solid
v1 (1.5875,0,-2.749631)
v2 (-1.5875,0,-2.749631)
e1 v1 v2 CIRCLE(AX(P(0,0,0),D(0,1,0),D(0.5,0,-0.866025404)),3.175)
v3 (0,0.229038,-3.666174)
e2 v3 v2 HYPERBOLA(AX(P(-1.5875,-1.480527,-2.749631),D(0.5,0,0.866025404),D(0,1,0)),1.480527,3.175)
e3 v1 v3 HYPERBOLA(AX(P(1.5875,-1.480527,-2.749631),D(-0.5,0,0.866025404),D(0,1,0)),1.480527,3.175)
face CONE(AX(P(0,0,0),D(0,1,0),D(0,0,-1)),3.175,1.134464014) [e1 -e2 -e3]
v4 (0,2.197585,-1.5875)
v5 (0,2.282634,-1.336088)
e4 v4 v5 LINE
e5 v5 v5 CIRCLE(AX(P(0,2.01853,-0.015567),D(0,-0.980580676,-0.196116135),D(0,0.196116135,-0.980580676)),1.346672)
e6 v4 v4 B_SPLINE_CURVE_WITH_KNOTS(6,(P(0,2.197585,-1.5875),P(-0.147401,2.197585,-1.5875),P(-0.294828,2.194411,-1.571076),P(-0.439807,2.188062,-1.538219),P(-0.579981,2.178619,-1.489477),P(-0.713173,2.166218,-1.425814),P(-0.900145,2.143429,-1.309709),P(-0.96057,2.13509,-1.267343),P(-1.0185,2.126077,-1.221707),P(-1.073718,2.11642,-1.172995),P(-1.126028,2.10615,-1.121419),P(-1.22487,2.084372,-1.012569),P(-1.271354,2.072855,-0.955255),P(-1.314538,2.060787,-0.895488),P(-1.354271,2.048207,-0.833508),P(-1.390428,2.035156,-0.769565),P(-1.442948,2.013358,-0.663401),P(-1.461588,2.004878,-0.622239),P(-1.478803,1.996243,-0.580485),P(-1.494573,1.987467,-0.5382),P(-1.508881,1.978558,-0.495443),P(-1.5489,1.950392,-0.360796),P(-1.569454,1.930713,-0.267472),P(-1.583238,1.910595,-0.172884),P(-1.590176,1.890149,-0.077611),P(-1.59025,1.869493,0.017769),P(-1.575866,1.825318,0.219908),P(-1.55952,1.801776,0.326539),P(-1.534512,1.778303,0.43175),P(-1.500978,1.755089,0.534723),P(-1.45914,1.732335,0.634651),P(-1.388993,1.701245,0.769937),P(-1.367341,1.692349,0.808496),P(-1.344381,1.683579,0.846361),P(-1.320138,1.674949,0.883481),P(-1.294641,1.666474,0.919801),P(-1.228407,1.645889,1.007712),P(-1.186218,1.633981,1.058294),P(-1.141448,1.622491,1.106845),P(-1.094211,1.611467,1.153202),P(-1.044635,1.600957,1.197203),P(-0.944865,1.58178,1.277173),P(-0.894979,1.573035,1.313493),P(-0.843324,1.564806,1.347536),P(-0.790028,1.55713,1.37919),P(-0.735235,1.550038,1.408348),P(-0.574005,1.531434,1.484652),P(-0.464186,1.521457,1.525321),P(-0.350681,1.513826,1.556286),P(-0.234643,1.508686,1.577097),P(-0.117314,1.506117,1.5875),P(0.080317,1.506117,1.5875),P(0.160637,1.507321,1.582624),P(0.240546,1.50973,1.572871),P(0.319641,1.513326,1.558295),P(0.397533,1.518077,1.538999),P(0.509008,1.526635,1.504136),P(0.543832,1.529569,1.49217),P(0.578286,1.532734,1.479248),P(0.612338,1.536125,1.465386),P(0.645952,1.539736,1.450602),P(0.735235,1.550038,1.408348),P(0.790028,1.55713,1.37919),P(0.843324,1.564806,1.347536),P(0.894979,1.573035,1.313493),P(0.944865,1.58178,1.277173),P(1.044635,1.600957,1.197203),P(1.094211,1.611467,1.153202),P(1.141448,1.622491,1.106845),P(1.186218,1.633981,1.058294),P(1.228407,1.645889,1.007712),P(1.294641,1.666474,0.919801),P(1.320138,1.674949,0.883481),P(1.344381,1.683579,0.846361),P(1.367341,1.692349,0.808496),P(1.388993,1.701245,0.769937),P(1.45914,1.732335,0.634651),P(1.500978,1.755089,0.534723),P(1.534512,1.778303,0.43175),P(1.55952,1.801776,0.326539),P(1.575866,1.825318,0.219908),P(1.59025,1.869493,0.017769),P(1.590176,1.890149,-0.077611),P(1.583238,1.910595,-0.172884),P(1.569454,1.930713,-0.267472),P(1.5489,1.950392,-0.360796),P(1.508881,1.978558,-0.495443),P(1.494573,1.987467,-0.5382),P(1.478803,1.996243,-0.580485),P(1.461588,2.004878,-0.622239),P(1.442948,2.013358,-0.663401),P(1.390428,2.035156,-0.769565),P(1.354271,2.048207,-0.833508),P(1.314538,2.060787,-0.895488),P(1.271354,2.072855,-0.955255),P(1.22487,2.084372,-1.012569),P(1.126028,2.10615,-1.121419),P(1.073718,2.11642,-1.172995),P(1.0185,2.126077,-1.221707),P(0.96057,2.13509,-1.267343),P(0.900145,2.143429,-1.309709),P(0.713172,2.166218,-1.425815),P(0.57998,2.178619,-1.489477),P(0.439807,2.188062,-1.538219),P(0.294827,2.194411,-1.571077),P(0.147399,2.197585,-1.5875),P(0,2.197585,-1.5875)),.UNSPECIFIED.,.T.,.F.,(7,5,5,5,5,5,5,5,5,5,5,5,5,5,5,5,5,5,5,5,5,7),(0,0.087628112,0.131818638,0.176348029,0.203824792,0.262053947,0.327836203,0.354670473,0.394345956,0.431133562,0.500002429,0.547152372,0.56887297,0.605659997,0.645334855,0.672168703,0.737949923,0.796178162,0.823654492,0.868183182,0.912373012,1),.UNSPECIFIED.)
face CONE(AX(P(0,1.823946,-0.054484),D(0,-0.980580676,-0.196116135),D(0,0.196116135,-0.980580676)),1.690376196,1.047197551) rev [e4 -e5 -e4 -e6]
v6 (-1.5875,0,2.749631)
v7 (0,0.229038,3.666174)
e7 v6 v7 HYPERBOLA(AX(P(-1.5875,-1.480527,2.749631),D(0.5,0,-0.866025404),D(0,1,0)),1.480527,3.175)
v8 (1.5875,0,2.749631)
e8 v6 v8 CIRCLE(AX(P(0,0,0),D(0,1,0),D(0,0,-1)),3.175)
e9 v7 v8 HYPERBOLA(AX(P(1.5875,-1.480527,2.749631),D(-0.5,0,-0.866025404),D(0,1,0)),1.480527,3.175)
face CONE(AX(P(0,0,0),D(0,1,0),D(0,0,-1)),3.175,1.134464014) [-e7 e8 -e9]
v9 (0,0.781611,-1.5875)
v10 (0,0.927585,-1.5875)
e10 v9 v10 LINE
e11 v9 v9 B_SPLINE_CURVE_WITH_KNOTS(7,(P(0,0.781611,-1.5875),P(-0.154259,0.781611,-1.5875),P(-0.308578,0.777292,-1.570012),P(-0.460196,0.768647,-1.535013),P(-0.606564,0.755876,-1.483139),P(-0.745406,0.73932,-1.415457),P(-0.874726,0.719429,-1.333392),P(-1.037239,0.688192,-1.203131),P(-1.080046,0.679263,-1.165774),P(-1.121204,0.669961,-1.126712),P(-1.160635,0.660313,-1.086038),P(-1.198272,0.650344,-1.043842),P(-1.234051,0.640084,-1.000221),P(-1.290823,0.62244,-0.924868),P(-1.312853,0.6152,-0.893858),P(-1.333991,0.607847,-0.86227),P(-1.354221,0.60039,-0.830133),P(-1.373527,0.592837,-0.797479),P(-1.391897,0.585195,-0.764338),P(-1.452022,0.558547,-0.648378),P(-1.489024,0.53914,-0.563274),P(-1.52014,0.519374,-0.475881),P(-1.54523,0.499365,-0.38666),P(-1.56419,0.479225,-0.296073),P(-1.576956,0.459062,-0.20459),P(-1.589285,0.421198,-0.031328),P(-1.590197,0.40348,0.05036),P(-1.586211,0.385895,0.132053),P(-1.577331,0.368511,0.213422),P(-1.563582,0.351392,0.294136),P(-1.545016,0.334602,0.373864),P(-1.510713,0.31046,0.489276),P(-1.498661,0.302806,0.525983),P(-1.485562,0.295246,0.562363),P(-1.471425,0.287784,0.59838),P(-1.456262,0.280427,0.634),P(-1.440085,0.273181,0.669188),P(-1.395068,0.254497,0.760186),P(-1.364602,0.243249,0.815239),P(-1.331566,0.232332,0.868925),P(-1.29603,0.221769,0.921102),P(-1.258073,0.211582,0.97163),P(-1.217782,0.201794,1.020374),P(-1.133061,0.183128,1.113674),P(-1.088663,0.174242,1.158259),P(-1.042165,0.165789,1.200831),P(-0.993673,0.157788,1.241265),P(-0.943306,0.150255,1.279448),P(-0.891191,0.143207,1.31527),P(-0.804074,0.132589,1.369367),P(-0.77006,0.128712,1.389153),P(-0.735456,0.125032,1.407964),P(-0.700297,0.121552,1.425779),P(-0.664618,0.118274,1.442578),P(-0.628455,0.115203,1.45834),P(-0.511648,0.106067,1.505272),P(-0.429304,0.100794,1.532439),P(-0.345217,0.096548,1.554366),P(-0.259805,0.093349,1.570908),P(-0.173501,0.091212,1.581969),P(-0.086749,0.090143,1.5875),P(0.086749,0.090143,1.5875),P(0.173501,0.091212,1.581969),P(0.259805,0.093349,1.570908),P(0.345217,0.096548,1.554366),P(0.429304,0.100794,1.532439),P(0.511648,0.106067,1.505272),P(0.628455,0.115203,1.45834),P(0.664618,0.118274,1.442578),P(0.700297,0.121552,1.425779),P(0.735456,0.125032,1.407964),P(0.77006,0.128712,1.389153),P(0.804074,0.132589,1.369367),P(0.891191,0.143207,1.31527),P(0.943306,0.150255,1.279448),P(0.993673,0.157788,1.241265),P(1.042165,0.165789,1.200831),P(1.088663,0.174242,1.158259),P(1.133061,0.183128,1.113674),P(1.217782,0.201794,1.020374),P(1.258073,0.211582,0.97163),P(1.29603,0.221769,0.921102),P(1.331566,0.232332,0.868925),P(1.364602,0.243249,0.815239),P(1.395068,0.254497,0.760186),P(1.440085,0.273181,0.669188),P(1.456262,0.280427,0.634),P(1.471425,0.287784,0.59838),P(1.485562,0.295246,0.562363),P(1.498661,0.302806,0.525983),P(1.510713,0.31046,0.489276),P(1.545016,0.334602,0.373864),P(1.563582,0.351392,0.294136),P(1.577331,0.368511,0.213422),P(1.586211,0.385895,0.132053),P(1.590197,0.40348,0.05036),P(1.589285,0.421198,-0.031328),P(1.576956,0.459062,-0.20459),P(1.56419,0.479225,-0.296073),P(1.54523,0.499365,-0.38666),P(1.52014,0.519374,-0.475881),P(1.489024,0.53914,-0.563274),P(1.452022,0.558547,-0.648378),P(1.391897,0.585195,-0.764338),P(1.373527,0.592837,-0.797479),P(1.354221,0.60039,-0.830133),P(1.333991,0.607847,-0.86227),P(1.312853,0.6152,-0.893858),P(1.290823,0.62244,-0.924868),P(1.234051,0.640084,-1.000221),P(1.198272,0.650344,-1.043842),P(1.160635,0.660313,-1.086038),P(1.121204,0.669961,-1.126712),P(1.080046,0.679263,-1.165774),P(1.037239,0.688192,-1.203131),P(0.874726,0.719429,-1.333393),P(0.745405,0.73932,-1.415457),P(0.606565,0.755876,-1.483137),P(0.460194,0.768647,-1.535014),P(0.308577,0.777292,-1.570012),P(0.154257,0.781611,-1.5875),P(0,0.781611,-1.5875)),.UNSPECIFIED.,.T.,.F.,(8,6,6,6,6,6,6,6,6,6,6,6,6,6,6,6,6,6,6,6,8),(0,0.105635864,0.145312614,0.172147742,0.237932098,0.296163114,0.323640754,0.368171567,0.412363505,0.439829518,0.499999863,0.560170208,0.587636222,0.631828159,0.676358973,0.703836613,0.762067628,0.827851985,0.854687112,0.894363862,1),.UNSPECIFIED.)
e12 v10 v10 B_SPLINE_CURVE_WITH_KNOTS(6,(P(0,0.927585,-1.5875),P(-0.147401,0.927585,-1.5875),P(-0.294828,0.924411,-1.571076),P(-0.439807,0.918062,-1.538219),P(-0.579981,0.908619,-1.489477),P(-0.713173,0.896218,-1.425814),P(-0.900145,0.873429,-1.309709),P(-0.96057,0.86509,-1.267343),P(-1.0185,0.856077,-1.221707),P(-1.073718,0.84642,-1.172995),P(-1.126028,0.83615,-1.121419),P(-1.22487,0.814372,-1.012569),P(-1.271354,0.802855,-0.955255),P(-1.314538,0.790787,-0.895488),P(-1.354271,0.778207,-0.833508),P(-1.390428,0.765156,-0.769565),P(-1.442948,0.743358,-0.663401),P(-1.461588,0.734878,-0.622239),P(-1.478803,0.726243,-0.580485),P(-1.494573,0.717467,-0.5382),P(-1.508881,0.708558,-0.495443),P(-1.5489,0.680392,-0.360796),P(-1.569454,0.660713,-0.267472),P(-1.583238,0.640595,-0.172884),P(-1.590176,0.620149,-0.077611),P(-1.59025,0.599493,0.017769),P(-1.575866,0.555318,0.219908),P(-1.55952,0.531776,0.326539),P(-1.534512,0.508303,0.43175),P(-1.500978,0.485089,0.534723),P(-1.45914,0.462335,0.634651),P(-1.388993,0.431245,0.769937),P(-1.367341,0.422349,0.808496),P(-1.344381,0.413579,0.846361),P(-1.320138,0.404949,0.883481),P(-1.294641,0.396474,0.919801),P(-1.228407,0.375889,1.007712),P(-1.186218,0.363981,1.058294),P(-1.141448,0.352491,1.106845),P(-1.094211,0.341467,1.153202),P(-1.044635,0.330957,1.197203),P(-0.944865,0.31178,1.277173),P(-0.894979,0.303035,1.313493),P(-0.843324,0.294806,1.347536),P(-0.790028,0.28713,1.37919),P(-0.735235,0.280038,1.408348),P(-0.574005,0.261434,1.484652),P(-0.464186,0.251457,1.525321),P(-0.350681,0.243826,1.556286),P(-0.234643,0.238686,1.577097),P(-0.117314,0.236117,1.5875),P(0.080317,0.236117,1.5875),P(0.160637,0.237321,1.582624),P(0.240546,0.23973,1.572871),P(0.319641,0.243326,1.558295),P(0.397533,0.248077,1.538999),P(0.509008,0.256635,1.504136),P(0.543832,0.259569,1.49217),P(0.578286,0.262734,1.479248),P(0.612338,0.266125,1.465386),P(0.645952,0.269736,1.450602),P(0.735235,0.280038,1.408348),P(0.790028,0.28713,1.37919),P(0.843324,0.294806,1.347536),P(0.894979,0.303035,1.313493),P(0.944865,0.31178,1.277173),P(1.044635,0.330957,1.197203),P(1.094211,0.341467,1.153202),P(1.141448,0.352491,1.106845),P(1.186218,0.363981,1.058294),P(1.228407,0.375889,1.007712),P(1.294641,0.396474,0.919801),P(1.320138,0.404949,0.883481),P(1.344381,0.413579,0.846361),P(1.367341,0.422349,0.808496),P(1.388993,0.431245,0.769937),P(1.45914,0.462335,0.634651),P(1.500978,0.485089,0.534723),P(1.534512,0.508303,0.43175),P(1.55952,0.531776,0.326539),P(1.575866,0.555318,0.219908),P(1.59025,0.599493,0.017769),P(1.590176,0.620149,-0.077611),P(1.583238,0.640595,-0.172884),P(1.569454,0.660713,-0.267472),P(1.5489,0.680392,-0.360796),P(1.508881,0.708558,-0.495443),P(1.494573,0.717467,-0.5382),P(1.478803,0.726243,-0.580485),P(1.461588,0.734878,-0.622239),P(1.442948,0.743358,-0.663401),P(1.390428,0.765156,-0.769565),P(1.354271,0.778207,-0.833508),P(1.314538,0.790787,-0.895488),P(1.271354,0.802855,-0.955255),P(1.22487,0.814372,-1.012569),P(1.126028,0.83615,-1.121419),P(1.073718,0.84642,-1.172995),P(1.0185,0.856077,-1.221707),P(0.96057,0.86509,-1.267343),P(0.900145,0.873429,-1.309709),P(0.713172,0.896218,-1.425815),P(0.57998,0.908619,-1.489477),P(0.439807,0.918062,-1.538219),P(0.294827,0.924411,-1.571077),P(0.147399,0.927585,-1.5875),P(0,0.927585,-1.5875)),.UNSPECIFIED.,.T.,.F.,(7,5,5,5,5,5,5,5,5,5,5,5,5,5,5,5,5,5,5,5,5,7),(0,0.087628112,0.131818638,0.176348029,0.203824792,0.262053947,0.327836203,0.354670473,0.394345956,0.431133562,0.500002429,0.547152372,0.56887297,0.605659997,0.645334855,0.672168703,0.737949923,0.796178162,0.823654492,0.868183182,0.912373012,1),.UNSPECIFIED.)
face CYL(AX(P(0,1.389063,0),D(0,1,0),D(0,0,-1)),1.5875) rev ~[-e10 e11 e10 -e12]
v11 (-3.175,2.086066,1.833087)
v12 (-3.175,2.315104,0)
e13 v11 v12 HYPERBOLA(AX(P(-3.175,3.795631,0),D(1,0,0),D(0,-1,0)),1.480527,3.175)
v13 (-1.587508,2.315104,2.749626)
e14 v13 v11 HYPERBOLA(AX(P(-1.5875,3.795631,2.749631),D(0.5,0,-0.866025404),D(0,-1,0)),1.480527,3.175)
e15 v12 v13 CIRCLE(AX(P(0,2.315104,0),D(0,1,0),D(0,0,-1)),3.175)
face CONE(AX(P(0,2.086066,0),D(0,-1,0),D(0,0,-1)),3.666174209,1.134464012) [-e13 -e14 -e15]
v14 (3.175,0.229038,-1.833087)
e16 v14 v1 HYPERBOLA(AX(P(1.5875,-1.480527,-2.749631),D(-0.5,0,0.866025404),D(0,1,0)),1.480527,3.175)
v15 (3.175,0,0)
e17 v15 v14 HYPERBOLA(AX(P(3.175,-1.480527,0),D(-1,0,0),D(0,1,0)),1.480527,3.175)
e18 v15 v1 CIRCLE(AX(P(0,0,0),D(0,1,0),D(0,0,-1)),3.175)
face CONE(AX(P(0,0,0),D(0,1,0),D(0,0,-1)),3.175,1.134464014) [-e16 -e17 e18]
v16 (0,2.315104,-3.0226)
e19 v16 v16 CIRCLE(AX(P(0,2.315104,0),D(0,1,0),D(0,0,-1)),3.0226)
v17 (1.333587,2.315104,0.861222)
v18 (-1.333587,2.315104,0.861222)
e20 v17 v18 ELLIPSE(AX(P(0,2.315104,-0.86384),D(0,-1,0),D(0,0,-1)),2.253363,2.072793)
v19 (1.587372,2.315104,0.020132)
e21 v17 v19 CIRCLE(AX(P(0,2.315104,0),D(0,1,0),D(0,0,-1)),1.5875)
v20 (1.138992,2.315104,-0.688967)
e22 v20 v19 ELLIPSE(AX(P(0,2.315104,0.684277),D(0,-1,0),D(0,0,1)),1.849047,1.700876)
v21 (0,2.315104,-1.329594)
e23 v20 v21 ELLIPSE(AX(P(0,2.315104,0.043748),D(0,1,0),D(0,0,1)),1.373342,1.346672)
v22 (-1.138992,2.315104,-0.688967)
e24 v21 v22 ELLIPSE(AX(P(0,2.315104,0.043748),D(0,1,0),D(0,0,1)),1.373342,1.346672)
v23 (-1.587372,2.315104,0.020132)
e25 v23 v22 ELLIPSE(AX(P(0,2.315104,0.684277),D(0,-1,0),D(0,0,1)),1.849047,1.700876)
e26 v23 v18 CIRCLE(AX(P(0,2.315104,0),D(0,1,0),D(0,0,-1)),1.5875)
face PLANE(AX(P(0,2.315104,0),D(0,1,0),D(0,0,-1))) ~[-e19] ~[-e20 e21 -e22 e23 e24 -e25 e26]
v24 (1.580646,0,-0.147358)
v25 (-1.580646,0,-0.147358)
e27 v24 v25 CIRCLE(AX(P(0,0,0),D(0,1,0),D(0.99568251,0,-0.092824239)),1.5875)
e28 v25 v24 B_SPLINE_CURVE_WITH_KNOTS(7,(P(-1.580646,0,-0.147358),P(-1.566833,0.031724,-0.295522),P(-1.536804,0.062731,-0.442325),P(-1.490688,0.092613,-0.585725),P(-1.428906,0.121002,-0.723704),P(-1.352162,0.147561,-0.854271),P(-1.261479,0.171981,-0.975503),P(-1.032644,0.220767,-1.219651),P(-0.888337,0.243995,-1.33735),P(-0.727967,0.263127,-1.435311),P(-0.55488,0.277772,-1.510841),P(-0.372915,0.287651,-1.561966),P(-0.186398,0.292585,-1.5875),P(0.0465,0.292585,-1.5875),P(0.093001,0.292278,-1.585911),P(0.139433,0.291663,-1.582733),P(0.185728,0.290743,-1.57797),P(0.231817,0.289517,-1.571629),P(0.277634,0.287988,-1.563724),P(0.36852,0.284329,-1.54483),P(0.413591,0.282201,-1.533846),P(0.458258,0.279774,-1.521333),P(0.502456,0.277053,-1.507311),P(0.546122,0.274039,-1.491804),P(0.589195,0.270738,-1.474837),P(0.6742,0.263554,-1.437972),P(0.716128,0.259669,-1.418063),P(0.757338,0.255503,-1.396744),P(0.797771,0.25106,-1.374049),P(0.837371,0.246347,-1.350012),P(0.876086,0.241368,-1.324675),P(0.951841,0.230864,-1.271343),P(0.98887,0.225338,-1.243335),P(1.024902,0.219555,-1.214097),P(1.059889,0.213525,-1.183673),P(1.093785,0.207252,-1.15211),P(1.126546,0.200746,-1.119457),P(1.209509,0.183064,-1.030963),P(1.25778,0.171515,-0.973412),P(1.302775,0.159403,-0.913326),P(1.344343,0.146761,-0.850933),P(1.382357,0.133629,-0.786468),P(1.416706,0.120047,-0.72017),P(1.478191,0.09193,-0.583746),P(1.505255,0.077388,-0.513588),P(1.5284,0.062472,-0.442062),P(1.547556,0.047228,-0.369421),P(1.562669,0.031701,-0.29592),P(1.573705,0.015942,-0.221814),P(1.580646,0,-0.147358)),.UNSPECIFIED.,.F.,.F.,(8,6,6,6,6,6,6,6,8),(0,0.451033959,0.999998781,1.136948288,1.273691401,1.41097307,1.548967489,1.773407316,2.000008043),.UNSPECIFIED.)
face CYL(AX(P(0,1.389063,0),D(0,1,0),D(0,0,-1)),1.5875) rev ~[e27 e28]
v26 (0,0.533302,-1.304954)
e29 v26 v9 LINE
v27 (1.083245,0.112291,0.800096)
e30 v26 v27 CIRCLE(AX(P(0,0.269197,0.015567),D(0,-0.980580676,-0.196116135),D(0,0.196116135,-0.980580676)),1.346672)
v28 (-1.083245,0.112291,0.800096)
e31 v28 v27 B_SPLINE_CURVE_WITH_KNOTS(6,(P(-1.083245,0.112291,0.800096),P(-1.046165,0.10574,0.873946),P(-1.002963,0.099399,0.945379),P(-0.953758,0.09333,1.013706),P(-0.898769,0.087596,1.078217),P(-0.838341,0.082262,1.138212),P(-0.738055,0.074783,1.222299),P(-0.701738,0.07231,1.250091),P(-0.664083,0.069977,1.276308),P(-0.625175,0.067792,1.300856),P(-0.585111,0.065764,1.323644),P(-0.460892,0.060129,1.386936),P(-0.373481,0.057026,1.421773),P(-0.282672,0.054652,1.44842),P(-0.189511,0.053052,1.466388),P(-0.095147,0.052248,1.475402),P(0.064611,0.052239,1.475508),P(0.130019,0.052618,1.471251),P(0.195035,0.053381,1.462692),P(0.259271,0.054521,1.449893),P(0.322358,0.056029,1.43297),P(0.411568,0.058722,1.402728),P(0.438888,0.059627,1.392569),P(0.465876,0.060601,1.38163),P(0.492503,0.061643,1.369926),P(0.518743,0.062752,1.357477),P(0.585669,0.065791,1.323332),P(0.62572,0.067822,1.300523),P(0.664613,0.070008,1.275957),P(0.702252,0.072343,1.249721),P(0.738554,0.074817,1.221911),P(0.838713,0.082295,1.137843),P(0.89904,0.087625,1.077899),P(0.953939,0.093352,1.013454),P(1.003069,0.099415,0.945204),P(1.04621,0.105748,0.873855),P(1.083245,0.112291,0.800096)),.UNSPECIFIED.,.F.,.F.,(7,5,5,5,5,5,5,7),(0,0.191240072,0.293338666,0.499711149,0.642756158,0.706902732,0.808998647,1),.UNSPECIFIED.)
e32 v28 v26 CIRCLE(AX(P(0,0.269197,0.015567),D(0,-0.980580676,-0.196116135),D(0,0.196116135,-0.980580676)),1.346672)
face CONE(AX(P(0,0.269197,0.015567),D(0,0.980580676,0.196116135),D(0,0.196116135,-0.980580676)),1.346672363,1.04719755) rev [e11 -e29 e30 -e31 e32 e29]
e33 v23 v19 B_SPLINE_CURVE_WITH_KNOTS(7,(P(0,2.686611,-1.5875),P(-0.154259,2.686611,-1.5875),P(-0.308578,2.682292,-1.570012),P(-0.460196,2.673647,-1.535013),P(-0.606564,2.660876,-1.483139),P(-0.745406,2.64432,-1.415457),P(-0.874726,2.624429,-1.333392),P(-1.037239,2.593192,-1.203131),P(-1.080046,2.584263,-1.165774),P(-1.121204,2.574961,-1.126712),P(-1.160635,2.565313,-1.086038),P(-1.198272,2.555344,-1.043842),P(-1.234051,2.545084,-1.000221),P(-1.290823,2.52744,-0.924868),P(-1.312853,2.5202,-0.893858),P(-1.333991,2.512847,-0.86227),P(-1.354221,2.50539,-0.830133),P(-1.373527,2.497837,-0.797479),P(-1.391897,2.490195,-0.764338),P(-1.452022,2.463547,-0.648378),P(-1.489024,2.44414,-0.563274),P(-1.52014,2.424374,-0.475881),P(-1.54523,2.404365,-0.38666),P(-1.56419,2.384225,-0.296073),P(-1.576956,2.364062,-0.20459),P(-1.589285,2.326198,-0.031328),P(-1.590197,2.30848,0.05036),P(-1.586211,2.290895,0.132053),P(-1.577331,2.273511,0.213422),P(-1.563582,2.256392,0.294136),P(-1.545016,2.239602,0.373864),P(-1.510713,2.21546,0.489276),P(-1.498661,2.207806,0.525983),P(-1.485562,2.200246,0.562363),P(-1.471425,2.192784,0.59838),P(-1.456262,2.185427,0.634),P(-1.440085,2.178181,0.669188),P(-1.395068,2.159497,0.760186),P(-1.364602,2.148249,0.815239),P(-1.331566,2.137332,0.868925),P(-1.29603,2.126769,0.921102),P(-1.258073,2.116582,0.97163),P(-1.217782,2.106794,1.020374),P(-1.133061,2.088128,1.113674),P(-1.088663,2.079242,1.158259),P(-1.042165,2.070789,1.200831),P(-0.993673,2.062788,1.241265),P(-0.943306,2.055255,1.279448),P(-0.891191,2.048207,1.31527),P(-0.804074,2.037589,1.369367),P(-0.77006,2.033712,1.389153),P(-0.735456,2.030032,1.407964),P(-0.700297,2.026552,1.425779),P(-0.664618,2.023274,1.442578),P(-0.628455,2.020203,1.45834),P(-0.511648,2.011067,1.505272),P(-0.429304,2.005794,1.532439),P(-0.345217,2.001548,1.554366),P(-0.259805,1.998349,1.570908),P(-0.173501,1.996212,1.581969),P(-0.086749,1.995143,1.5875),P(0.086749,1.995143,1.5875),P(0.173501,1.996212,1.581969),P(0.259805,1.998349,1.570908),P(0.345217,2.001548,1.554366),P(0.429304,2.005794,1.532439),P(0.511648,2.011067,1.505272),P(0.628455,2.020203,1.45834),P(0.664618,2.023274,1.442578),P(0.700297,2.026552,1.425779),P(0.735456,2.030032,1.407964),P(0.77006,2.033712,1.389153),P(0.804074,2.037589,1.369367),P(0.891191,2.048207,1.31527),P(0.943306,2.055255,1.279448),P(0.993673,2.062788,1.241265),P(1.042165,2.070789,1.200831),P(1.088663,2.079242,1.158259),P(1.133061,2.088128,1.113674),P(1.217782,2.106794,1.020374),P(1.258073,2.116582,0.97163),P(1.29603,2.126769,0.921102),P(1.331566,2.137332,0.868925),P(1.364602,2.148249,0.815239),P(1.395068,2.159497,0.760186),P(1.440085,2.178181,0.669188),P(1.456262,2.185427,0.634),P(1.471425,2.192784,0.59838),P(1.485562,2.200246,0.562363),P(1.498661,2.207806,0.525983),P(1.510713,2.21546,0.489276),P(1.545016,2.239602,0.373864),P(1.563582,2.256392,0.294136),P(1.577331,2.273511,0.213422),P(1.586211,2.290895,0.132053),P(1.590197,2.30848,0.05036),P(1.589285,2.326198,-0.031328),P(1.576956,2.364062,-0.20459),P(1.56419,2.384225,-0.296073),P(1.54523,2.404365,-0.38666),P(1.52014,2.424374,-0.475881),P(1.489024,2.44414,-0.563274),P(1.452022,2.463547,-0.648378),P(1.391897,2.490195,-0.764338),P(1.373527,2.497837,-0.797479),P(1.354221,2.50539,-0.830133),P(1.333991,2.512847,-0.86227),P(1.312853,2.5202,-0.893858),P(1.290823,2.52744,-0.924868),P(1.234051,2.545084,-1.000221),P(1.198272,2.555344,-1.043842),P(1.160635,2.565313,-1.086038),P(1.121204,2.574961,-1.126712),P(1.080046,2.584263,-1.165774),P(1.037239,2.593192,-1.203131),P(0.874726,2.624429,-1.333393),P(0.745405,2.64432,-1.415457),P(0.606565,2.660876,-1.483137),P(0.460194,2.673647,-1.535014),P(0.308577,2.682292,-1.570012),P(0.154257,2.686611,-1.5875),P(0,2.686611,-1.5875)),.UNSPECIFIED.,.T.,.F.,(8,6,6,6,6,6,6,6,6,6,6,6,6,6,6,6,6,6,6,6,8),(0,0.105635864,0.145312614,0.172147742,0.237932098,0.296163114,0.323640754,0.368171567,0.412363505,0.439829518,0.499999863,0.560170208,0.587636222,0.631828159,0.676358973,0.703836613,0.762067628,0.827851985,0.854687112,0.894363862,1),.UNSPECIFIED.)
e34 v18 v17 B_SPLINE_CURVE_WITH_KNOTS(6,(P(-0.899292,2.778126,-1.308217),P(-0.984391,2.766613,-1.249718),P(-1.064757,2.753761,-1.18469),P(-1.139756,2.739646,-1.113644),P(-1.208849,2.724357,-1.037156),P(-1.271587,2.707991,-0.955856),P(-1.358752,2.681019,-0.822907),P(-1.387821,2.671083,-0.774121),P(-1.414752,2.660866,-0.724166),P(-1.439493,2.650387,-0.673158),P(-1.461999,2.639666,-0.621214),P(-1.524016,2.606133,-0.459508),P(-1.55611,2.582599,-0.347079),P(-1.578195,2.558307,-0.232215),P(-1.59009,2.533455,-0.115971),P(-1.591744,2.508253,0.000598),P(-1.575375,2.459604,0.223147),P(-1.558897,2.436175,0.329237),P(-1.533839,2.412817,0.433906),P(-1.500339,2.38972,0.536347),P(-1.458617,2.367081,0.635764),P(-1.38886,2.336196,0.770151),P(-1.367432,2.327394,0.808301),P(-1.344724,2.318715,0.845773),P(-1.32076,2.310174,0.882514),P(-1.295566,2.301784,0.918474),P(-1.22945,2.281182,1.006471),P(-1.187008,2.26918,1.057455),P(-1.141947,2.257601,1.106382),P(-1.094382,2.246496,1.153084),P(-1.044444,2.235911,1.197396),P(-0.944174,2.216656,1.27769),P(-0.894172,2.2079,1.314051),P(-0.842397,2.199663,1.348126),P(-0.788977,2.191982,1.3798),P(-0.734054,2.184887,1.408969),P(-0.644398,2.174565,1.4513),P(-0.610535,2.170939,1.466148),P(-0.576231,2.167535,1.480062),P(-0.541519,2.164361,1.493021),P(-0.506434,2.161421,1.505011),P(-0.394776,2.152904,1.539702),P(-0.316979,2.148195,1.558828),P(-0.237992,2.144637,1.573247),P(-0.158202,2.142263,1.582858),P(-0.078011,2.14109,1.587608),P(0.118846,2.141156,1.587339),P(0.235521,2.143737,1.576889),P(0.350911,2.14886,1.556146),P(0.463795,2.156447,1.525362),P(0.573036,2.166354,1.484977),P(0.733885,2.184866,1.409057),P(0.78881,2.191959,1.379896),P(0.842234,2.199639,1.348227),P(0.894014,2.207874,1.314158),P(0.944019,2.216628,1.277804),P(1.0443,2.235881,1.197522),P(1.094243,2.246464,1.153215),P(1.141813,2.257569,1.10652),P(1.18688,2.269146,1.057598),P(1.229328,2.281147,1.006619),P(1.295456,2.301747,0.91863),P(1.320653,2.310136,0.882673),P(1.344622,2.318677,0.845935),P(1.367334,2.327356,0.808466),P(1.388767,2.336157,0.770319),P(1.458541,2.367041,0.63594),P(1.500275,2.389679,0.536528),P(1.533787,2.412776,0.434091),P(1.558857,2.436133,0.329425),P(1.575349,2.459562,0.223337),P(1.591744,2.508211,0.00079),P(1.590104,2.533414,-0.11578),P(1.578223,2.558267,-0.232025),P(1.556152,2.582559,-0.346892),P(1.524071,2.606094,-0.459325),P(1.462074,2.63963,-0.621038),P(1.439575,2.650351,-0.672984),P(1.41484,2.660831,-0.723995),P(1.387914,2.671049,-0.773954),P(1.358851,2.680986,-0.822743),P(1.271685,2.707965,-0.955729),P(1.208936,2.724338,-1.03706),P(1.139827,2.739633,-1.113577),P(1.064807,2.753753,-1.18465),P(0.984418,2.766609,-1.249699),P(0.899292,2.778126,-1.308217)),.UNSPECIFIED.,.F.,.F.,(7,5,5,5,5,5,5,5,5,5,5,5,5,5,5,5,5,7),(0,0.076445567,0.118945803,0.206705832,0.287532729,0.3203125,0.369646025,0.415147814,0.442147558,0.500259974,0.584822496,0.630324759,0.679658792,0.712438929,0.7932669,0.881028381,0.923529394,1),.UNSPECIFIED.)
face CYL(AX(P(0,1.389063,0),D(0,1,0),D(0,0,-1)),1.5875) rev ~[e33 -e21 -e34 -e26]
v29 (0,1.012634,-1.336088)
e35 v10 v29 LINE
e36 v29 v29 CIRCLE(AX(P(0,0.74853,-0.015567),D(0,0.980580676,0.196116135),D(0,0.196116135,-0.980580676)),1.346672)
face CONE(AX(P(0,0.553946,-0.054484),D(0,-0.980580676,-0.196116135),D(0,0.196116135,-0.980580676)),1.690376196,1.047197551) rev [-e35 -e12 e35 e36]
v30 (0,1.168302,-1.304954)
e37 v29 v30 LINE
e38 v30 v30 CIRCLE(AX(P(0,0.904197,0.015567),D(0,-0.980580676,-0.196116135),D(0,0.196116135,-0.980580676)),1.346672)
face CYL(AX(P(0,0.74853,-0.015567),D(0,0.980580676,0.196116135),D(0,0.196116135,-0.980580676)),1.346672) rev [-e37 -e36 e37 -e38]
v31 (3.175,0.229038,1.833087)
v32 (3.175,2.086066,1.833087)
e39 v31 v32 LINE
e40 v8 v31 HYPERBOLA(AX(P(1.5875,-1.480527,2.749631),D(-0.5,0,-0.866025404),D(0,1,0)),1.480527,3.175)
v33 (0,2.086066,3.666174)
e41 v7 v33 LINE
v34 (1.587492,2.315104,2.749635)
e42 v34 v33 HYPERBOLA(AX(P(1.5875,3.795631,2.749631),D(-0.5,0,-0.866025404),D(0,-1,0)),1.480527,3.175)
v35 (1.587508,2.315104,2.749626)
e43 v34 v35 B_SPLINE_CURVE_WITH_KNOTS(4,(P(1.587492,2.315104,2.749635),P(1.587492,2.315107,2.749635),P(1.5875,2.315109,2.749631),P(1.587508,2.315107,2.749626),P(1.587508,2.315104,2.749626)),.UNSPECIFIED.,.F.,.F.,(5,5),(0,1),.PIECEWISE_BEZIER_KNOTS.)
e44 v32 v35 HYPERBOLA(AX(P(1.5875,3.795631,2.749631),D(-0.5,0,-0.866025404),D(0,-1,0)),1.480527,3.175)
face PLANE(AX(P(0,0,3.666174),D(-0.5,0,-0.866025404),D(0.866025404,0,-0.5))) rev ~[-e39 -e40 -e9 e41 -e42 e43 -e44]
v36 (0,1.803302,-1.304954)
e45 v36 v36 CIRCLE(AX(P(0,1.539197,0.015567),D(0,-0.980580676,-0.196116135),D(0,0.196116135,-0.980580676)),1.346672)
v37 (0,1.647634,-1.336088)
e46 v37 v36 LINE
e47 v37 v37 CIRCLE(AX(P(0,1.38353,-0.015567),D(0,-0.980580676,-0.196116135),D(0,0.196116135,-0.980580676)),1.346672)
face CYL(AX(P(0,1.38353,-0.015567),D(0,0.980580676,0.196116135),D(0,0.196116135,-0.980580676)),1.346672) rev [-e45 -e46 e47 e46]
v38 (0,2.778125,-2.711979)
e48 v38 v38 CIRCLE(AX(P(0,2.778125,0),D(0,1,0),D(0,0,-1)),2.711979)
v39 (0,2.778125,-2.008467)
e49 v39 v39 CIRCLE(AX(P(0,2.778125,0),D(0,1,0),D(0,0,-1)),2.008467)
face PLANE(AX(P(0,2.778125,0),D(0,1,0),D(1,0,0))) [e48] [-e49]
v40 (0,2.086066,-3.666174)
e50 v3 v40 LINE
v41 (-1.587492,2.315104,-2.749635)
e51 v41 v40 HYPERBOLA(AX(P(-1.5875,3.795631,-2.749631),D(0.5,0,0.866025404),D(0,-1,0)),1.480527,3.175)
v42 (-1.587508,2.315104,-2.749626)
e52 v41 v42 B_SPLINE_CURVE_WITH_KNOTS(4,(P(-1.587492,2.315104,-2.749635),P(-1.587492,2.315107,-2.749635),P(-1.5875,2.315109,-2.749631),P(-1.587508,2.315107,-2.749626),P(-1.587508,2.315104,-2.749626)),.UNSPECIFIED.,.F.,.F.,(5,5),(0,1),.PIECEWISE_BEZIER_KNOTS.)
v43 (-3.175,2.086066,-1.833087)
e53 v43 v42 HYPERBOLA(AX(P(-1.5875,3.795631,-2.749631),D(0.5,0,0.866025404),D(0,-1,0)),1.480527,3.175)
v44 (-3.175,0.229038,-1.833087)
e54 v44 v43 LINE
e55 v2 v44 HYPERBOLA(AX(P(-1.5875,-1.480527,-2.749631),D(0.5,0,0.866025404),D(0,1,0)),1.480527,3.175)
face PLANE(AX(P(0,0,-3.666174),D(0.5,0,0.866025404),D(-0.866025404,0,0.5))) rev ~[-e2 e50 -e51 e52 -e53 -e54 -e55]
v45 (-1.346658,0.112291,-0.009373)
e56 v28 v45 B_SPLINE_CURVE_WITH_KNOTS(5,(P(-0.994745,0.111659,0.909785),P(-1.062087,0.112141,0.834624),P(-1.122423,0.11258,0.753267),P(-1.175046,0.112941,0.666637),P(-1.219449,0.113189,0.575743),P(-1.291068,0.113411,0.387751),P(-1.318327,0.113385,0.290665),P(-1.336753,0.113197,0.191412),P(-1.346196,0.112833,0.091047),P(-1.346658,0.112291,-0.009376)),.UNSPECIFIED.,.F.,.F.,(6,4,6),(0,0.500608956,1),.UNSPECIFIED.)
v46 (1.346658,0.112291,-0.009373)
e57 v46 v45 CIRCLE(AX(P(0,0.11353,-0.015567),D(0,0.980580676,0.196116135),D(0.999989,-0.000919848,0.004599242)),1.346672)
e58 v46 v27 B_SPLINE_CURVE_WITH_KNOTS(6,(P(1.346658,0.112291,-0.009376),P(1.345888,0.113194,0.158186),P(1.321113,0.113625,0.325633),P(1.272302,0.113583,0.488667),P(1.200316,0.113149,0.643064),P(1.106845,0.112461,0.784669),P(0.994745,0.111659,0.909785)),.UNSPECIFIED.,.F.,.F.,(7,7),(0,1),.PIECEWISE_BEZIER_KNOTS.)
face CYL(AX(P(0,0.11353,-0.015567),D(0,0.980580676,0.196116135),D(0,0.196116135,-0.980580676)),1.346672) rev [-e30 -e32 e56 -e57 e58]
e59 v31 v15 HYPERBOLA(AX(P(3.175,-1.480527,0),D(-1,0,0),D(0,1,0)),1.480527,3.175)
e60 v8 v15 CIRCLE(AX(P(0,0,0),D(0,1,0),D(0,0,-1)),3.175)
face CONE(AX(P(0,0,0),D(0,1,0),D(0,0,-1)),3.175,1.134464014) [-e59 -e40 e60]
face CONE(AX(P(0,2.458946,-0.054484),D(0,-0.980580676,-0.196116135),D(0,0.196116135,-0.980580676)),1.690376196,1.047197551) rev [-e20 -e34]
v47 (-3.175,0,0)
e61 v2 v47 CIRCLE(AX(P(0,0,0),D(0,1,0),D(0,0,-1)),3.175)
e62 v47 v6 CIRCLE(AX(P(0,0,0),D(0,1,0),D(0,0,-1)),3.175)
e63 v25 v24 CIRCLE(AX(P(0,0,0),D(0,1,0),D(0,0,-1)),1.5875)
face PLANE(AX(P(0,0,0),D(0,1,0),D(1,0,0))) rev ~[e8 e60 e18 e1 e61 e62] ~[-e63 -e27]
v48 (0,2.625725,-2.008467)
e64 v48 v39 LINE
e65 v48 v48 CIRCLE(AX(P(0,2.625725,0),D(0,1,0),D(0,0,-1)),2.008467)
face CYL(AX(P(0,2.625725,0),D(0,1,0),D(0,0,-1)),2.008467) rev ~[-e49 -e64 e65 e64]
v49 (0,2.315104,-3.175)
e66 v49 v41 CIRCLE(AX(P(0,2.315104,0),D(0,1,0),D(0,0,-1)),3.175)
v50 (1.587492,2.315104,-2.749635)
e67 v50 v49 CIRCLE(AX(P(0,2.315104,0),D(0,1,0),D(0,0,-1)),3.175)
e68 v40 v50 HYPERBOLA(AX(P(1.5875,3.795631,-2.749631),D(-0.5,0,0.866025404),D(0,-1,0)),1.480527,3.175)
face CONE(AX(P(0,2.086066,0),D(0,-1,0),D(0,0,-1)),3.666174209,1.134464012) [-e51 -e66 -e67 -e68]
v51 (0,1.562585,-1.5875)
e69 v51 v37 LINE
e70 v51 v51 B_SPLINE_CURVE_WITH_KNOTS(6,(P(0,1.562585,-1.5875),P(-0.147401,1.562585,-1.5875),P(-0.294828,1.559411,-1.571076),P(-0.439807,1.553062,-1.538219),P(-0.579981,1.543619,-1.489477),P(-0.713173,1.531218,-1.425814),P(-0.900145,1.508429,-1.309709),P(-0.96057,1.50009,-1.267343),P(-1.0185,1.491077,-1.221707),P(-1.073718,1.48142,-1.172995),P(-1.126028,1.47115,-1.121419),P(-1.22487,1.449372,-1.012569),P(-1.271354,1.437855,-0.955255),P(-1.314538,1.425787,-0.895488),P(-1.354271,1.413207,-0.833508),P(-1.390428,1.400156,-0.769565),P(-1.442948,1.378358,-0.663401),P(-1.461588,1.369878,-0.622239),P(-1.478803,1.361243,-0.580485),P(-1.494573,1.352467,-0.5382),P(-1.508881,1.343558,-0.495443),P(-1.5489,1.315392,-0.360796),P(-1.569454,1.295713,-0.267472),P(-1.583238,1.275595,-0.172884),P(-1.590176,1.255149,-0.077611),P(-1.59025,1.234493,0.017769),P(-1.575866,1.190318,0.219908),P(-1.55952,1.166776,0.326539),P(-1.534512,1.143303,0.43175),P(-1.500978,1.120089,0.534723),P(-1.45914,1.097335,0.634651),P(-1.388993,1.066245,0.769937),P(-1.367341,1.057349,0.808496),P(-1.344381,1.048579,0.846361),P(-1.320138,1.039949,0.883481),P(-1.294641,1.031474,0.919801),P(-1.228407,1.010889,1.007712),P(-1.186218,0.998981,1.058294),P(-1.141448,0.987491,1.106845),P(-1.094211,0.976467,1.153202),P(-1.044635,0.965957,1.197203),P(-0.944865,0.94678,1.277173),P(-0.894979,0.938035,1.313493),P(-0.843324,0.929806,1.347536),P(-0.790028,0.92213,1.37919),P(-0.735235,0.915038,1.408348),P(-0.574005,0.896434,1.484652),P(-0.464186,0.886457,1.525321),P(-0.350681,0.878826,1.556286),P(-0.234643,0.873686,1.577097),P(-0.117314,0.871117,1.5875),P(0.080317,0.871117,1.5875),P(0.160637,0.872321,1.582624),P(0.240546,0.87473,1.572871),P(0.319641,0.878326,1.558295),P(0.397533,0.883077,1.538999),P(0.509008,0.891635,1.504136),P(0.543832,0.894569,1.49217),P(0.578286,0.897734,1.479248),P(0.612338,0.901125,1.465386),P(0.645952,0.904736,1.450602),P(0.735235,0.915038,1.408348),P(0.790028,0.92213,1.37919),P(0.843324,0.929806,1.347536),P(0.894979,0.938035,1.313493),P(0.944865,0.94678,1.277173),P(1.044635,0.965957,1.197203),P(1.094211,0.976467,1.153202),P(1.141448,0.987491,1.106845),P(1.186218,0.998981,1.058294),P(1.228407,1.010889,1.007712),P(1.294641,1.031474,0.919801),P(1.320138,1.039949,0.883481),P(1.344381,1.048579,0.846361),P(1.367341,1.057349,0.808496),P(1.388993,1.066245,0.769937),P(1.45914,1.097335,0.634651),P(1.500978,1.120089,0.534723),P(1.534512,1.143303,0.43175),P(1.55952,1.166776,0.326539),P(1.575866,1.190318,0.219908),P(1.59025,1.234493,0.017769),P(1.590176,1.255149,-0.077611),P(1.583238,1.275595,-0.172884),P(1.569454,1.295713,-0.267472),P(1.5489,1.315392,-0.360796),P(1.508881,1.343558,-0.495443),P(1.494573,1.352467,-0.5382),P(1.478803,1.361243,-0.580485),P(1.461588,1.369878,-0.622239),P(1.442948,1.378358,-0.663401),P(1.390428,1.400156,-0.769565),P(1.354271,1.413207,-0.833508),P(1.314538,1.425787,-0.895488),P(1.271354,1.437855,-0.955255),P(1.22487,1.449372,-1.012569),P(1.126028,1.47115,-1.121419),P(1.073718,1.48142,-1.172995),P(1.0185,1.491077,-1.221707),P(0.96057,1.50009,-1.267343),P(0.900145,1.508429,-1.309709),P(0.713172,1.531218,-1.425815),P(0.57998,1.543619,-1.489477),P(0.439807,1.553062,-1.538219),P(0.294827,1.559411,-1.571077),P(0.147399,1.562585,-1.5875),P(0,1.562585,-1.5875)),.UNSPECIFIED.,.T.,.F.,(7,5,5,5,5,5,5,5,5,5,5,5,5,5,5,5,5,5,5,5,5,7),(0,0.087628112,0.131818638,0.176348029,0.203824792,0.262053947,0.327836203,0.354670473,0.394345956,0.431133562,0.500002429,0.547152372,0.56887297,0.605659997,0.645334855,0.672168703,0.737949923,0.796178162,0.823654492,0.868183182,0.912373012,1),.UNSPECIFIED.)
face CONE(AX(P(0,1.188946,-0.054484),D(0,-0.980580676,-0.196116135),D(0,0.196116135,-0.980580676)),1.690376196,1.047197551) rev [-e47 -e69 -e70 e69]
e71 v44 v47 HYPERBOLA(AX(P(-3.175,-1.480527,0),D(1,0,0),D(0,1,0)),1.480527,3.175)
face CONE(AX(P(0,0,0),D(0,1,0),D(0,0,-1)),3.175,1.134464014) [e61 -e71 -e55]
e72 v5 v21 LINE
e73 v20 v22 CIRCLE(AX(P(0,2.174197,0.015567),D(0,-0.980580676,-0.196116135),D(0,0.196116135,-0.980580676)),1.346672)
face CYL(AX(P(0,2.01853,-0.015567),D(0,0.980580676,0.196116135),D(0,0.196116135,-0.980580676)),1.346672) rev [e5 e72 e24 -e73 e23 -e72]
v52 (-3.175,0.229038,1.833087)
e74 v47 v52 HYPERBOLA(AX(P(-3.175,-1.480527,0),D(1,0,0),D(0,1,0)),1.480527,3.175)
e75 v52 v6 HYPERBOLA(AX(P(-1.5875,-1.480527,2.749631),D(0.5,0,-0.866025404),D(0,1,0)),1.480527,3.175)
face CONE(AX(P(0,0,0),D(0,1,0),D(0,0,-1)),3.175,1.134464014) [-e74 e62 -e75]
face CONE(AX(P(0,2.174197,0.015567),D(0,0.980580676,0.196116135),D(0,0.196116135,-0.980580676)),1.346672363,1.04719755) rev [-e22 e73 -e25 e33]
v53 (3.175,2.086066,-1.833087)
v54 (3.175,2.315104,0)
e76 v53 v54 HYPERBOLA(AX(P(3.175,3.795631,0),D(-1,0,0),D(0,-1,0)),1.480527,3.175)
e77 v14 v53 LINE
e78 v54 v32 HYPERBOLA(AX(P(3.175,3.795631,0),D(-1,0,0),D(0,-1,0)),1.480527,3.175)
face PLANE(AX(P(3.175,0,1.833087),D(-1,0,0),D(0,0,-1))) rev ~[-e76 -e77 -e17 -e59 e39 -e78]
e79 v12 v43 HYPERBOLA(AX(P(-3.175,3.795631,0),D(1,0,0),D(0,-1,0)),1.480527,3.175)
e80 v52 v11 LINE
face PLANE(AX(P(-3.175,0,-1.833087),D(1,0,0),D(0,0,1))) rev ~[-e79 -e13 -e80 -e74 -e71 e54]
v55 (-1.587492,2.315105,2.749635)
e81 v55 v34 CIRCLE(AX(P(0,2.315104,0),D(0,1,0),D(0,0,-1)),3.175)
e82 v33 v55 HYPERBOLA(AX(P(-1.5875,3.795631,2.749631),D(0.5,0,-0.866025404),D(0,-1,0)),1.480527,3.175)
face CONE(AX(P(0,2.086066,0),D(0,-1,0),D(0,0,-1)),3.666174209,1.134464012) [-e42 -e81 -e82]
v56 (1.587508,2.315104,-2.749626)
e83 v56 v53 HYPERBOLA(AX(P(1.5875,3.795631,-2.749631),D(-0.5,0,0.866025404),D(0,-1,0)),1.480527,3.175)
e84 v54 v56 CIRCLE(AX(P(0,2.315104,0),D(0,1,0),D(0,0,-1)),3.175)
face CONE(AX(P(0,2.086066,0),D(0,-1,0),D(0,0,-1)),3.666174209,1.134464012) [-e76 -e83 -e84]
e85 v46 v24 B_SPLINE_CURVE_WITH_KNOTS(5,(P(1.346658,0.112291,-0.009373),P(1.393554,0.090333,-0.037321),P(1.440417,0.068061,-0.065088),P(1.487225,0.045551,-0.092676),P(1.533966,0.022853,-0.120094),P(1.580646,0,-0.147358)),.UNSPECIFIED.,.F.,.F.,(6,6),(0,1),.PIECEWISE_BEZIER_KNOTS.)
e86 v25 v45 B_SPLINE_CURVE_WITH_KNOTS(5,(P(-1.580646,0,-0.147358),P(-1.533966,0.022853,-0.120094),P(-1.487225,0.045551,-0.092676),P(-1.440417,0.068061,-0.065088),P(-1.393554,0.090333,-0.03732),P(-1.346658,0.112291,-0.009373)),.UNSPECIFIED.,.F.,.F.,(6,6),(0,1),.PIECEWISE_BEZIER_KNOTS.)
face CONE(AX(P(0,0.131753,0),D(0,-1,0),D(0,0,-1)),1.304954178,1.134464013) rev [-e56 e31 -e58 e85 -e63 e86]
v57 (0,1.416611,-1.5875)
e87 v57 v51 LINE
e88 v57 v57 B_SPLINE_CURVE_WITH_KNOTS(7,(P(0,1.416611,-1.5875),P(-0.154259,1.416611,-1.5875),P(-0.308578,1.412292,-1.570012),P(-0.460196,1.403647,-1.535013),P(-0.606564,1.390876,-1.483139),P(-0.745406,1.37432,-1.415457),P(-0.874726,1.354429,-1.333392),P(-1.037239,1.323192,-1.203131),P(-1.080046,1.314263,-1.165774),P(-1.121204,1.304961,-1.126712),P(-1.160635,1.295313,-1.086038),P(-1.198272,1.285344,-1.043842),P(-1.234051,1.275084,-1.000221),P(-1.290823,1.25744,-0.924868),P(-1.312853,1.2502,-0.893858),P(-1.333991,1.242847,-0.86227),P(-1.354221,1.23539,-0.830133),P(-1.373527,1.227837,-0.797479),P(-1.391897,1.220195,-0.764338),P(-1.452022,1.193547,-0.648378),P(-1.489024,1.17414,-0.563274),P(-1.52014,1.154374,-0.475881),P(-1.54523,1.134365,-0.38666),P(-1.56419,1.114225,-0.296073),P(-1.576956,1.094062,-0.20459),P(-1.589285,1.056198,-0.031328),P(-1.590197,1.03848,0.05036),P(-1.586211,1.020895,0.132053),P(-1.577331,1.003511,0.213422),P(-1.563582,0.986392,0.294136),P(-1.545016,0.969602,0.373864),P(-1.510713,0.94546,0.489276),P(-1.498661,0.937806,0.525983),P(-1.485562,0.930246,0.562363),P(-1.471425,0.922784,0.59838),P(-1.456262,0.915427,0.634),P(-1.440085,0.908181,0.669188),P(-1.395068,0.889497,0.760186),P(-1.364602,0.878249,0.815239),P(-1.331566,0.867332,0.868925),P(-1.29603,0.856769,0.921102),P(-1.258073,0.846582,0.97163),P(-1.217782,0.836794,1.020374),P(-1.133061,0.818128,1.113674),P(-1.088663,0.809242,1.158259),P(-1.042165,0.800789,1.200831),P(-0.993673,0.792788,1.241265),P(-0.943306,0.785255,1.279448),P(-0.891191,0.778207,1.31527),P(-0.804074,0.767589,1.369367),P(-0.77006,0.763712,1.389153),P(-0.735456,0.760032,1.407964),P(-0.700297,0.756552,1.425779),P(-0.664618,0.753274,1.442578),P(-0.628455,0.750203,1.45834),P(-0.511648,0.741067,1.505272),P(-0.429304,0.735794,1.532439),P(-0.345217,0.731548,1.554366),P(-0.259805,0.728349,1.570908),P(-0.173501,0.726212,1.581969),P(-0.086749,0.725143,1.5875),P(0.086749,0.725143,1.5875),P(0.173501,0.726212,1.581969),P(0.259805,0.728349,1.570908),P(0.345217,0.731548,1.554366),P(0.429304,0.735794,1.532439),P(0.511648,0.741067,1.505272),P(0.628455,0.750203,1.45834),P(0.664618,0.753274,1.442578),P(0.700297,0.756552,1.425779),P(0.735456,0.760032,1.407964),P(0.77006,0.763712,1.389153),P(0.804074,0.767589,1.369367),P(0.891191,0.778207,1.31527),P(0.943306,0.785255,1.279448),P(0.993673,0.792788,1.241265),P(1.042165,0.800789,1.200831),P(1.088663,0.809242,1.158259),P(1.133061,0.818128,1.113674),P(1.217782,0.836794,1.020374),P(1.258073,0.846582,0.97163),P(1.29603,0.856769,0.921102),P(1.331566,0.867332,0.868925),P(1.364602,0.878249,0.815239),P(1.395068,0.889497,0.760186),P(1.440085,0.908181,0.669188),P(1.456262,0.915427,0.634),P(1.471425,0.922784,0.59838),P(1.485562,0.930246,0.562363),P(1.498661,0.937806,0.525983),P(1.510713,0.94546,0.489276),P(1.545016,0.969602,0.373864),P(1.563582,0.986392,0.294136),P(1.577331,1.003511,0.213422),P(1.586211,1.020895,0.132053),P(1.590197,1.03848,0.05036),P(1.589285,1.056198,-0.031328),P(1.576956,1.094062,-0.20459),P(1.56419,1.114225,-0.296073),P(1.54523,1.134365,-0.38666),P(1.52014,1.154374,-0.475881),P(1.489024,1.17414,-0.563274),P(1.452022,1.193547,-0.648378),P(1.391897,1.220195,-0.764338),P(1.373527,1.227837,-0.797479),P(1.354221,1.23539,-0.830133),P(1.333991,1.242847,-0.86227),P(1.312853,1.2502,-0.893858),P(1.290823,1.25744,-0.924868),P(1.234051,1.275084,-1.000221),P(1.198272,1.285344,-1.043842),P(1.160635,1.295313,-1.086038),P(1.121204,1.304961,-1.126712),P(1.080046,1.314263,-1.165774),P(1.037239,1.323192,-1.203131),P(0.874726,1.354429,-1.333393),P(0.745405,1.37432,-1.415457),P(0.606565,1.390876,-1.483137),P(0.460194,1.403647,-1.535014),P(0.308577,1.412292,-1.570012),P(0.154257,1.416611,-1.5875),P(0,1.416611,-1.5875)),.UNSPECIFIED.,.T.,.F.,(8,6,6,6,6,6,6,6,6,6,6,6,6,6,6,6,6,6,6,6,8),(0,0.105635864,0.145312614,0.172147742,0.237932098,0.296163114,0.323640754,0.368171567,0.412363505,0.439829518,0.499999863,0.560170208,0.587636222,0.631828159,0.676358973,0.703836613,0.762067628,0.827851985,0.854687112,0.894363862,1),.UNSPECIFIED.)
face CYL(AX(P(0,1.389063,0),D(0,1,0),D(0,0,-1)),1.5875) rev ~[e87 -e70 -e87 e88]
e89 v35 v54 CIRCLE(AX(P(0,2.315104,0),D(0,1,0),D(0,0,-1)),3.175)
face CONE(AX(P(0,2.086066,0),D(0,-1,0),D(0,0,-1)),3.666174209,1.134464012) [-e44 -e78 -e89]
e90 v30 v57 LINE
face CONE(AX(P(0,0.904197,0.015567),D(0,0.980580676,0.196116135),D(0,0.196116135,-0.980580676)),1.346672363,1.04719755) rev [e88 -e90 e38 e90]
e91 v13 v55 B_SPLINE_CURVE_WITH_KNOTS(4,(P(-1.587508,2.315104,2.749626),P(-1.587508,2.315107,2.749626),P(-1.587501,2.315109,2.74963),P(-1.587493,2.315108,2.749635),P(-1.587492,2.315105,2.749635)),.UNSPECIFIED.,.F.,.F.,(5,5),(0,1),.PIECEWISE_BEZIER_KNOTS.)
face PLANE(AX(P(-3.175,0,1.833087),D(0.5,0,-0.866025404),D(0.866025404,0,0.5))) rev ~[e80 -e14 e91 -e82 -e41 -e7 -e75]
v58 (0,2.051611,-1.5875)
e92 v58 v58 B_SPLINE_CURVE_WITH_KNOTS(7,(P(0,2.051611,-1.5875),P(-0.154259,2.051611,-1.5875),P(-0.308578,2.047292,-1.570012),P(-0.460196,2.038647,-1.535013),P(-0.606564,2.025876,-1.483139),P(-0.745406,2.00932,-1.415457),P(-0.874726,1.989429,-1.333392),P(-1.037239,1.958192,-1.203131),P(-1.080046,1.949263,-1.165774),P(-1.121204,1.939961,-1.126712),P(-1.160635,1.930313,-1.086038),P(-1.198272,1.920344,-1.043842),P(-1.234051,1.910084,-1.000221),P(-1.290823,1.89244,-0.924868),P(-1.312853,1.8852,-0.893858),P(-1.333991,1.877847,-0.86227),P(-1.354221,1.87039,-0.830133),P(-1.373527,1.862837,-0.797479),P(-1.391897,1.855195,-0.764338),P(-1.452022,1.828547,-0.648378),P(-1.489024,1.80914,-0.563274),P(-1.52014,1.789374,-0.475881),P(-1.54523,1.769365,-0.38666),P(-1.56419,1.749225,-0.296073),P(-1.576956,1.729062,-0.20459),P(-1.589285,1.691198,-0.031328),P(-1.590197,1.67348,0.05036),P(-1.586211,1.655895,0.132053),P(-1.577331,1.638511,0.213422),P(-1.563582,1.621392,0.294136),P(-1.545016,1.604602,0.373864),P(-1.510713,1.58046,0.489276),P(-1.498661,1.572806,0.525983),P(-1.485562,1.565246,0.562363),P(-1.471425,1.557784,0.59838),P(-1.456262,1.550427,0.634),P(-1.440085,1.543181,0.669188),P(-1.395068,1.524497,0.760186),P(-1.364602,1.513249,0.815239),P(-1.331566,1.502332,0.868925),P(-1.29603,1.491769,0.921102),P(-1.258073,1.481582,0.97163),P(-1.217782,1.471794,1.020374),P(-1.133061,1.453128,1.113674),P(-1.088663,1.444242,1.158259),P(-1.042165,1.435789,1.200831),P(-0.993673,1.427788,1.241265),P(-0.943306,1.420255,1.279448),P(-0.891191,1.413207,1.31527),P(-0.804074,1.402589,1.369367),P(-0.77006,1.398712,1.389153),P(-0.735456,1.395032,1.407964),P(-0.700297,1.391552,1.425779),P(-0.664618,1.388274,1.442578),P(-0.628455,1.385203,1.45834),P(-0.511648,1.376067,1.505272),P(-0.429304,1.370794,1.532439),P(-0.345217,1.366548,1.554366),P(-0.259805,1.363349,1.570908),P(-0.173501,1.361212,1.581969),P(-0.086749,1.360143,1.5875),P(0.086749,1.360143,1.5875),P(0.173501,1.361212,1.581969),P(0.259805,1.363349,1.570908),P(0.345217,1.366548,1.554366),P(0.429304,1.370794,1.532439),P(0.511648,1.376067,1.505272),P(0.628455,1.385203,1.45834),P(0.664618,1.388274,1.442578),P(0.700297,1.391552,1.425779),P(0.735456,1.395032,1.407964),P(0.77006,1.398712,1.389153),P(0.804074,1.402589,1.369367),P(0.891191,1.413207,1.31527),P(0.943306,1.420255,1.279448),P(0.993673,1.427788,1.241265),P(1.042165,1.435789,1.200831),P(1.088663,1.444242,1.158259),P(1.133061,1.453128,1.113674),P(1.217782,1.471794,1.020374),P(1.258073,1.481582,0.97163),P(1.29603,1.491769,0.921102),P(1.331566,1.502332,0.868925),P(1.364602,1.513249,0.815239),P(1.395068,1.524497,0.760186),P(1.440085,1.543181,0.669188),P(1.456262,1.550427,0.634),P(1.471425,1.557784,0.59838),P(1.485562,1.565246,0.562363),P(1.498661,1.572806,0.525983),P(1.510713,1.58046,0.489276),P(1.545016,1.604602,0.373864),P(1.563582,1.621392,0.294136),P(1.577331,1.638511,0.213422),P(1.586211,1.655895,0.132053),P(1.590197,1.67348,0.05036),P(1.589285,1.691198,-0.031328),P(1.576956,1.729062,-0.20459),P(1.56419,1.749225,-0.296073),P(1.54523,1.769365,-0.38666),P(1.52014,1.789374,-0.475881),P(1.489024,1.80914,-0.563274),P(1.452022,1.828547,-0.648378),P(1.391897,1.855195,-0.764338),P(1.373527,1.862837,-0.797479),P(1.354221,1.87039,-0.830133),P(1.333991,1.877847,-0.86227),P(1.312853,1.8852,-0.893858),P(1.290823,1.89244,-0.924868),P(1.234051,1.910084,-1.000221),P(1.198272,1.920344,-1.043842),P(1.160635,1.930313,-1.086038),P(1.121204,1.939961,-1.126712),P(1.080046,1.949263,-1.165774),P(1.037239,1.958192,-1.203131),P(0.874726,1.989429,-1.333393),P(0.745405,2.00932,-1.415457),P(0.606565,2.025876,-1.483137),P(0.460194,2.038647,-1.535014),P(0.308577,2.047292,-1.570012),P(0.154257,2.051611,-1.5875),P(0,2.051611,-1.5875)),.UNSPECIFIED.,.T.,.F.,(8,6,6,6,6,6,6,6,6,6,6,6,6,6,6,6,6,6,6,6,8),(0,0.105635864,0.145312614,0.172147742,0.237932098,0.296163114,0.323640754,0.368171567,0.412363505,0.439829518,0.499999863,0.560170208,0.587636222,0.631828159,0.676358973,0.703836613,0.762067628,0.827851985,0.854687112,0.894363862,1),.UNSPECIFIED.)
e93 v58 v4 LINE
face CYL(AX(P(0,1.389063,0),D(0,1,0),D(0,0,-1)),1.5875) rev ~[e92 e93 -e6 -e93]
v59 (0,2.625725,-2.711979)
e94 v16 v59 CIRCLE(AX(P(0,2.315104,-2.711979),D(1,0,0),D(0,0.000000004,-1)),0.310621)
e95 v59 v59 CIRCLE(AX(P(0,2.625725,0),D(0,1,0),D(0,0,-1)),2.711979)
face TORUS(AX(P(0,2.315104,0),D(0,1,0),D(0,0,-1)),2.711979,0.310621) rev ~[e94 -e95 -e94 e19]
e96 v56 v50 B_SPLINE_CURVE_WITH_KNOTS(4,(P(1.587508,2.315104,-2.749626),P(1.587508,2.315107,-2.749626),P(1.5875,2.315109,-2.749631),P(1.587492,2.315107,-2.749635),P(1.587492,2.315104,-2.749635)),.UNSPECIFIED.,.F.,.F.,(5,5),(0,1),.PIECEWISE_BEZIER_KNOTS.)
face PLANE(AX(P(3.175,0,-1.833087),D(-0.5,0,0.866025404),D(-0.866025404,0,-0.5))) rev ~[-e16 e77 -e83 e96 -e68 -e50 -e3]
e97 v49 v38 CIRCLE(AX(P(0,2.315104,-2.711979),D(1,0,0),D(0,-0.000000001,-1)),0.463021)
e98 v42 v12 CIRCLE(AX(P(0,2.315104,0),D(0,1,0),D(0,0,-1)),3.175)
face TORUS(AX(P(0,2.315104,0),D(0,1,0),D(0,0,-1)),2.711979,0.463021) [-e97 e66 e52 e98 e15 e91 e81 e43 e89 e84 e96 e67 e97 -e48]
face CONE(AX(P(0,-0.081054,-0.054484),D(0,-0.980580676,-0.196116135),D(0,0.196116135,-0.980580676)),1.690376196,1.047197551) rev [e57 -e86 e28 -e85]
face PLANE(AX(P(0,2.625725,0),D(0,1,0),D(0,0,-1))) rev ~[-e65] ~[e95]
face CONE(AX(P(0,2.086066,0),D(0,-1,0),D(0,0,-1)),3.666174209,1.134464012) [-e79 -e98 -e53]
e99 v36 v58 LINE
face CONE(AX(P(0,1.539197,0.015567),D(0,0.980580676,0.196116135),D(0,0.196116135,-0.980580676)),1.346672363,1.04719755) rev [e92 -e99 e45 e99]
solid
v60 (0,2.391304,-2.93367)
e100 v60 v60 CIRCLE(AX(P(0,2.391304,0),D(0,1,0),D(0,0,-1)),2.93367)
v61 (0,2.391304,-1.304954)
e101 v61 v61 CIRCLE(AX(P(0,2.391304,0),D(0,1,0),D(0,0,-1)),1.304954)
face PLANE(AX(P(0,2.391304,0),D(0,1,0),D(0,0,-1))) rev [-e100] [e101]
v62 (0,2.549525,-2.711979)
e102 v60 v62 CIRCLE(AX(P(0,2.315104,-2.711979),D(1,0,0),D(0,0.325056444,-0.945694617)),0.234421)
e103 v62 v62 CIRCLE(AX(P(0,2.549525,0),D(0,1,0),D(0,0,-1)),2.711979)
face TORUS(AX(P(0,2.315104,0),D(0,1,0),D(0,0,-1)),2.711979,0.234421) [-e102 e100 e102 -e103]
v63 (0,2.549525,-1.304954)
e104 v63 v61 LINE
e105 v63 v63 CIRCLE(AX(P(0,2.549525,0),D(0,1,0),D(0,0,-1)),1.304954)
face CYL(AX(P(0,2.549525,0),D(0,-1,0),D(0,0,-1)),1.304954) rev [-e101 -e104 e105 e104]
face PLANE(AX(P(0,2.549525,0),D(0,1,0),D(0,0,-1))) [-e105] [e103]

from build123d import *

# Parameters (mm, degrees)
EXTRUDE1_DEPTH      = 2.778125
SKETCH2_W           = 1.5875
SKETCH2_H           = 2.778125
LPATTERN1_COUNT     = 4
LPATTERN1_PITCH     = 0.635
LPATTERN1_COL_COUNT = 2
LPATTERN1_COL_PITCH = 0.635


with BuildPart() as part:
    # Sketch1 → Extrude1 (new body)
    with BuildSketch(Plane(origin=(0, 0, 0), x_dir=(1, 0, 0), z_dir=(0, 1, 0))):
        Polygon((0, 3.666174209), (-3.175, 1.833087105), (-3.175, -1.833087105), (0, -3.666174209), (3.175, -1.833087105), (3.175, 1.833087105), align=None)
    extrude(amount=EXTRUDE1_DEPTH)

    # Sketch4 → Cut-Revolve2 (revolve, cut)
    with BuildSketch(Plane(origin=(0, 0, 0), x_dir=(0, 0, -1), z_dir=(1, 0, 0))):
        Polygon((0, 2.778125), (1.5875, 2.778125), (1.304954178, 2.646371719), (1.304954178, 0.131753281), (1.5875, 0), (0, 0), align=None)
    revolve(axis=Axis((0, 2.778125, 0), (0, 1, 0)), mode=Mode.SUBTRACT)


with BuildPart() as body_2:
    # Sketch2 → Revolve1 (revolve)
    with BuildSketch(Plane(origin=(0, 0, 0), x_dir=(0, 0, -1), z_dir=(1, 0, 0))):
        with Locations((0.79375, 1.3890625)):
            Rectangle(SKETCH2_W, SKETCH2_H)
    revolve(axis=Axis((0, -1.5875, 0), (0, 1, 0)))

    # Sketch3 → Cut-Revolve1 (revolve, cut)
    with BuildSketch(Plane(origin=(0, 0, 0), x_dir=(0, 0, -1), z_dir=(1, 0, 0))):
        Polygon((1.603066718, 2.700291409), (1.712033746, 2.155456271), (1.336087614, 2.282634382), (1.304954178, 2.438301564), align=None)
    cut_revolve1 = revolve(axis=Axis((0, 2.778125, 0.136352241), (0, -0.980580676, -0.196116135)), mode=Mode.SUBTRACT)

    # LPattern1: Cut-Revolve1 ×4
    with Locations(*[(0, -i * LPATTERN1_PITCH, 0) for i in range(1, LPATTERN1_COUNT)]):
        add(cut_revolve1, mode=Mode.SUBTRACT)

    # LPattern1 col: Cut-Revolve1 ×2
    with Locations(*[(0, i * LPATTERN1_COL_PITCH, 0) for i in range(1, LPATTERN1_COL_COUNT)]):
        add(cut_revolve1, mode=Mode.SUBTRACT)


with BuildPart() as part_1:
    add(part.part)

    # Combine1: cut body 2
    add(body_2.part, mode=Mode.SUBTRACT)

    # Sketch5 → Cut-Revolve3 (revolve, cut)
    with BuildSketch(Plane(origin=(0, 0, 0), x_dir=(0, 0, -1), z_dir=(1, 0, 0))):
        with BuildLine():
            Line((0, 0), (3.175, 0))
            Line((3.175, 0), (3.666174209, 0.229038295))
            Line((3.666174209, 0.229038295), (3.666174209, 2.086065871))
            Line((3.666174209, 2.086065871), (3.175, 2.315104167))
            ThreePointArc((3.175, 2.315104167), (3.039384338, 2.642509338), (2.711979167, 2.778125))
            Line((2.711979167, 2.778125), (2.711979167, 4.048125))
            Line((2.711979167, 4.048125), (4.936174209, 4.048125))
            Line((4.936174209, 4.048125), (4.936174209, -1.27))
            Line((4.936174209, -1.27), (0, -1.27))
            Line((0, -1.27), (0, 0))
        make_face()
    revolve(axis=Axis((0, 0, 0), (0, 1, 0)), mode=Mode.SUBTRACT)

    # Sketch6 → Cut-Revolve4 (revolve, cut)
    with BuildSketch(Plane(origin=(0, 0, 0), x_dir=(0, 0, -1), z_dir=(1, 0, 0))):
        with BuildLine():
            Line((0, 2.315104167), (3.0226, 2.315104167))
            ThreePointArc((3.0226, 2.315104167), (2.931621264, 2.534746264), (2.711979167, 2.625725))
            Line((2.711979167, 2.625725), (2.008466672, 2.625725))
            Line((2.008466672, 2.625725), (2.008466672, 4.048125))
            Line((2.008466672, 4.048125), (0, 4.048125))
            Line((0, 4.048125), (0, 2.315104167))
        make_face()
    revolve(axis=Axis((0, 4.048125, 0), (0, 1, 0)), mode=Mode.SUBTRACT)


with BuildPart() as body_2_2:
    # Sketch7 → Revolve2 (revolve)
    with BuildSketch(Plane(origin=(0, 0, 0), x_dir=(0, 0, -1), z_dir=(1, 0, 0))):
        with BuildLine():
            Line((1.304954178, 2.391304167), (2.933669688, 2.391304167))
            ThreePointArc((2.933669688, 2.391304167), (2.848159671, 2.505912964), (2.711979167, 2.549525))
            Line((2.711979167, 2.549525), (1.304954178, 2.549525))
            Line((1.304954178, 2.549525), (1.304954178, 2.391304167))
        make_face()
    revolve(axis=Axis((0, 2.391304167, 0), (0, 1, 0)))


solid = Compound([part_1.part, body_2_2.part])
